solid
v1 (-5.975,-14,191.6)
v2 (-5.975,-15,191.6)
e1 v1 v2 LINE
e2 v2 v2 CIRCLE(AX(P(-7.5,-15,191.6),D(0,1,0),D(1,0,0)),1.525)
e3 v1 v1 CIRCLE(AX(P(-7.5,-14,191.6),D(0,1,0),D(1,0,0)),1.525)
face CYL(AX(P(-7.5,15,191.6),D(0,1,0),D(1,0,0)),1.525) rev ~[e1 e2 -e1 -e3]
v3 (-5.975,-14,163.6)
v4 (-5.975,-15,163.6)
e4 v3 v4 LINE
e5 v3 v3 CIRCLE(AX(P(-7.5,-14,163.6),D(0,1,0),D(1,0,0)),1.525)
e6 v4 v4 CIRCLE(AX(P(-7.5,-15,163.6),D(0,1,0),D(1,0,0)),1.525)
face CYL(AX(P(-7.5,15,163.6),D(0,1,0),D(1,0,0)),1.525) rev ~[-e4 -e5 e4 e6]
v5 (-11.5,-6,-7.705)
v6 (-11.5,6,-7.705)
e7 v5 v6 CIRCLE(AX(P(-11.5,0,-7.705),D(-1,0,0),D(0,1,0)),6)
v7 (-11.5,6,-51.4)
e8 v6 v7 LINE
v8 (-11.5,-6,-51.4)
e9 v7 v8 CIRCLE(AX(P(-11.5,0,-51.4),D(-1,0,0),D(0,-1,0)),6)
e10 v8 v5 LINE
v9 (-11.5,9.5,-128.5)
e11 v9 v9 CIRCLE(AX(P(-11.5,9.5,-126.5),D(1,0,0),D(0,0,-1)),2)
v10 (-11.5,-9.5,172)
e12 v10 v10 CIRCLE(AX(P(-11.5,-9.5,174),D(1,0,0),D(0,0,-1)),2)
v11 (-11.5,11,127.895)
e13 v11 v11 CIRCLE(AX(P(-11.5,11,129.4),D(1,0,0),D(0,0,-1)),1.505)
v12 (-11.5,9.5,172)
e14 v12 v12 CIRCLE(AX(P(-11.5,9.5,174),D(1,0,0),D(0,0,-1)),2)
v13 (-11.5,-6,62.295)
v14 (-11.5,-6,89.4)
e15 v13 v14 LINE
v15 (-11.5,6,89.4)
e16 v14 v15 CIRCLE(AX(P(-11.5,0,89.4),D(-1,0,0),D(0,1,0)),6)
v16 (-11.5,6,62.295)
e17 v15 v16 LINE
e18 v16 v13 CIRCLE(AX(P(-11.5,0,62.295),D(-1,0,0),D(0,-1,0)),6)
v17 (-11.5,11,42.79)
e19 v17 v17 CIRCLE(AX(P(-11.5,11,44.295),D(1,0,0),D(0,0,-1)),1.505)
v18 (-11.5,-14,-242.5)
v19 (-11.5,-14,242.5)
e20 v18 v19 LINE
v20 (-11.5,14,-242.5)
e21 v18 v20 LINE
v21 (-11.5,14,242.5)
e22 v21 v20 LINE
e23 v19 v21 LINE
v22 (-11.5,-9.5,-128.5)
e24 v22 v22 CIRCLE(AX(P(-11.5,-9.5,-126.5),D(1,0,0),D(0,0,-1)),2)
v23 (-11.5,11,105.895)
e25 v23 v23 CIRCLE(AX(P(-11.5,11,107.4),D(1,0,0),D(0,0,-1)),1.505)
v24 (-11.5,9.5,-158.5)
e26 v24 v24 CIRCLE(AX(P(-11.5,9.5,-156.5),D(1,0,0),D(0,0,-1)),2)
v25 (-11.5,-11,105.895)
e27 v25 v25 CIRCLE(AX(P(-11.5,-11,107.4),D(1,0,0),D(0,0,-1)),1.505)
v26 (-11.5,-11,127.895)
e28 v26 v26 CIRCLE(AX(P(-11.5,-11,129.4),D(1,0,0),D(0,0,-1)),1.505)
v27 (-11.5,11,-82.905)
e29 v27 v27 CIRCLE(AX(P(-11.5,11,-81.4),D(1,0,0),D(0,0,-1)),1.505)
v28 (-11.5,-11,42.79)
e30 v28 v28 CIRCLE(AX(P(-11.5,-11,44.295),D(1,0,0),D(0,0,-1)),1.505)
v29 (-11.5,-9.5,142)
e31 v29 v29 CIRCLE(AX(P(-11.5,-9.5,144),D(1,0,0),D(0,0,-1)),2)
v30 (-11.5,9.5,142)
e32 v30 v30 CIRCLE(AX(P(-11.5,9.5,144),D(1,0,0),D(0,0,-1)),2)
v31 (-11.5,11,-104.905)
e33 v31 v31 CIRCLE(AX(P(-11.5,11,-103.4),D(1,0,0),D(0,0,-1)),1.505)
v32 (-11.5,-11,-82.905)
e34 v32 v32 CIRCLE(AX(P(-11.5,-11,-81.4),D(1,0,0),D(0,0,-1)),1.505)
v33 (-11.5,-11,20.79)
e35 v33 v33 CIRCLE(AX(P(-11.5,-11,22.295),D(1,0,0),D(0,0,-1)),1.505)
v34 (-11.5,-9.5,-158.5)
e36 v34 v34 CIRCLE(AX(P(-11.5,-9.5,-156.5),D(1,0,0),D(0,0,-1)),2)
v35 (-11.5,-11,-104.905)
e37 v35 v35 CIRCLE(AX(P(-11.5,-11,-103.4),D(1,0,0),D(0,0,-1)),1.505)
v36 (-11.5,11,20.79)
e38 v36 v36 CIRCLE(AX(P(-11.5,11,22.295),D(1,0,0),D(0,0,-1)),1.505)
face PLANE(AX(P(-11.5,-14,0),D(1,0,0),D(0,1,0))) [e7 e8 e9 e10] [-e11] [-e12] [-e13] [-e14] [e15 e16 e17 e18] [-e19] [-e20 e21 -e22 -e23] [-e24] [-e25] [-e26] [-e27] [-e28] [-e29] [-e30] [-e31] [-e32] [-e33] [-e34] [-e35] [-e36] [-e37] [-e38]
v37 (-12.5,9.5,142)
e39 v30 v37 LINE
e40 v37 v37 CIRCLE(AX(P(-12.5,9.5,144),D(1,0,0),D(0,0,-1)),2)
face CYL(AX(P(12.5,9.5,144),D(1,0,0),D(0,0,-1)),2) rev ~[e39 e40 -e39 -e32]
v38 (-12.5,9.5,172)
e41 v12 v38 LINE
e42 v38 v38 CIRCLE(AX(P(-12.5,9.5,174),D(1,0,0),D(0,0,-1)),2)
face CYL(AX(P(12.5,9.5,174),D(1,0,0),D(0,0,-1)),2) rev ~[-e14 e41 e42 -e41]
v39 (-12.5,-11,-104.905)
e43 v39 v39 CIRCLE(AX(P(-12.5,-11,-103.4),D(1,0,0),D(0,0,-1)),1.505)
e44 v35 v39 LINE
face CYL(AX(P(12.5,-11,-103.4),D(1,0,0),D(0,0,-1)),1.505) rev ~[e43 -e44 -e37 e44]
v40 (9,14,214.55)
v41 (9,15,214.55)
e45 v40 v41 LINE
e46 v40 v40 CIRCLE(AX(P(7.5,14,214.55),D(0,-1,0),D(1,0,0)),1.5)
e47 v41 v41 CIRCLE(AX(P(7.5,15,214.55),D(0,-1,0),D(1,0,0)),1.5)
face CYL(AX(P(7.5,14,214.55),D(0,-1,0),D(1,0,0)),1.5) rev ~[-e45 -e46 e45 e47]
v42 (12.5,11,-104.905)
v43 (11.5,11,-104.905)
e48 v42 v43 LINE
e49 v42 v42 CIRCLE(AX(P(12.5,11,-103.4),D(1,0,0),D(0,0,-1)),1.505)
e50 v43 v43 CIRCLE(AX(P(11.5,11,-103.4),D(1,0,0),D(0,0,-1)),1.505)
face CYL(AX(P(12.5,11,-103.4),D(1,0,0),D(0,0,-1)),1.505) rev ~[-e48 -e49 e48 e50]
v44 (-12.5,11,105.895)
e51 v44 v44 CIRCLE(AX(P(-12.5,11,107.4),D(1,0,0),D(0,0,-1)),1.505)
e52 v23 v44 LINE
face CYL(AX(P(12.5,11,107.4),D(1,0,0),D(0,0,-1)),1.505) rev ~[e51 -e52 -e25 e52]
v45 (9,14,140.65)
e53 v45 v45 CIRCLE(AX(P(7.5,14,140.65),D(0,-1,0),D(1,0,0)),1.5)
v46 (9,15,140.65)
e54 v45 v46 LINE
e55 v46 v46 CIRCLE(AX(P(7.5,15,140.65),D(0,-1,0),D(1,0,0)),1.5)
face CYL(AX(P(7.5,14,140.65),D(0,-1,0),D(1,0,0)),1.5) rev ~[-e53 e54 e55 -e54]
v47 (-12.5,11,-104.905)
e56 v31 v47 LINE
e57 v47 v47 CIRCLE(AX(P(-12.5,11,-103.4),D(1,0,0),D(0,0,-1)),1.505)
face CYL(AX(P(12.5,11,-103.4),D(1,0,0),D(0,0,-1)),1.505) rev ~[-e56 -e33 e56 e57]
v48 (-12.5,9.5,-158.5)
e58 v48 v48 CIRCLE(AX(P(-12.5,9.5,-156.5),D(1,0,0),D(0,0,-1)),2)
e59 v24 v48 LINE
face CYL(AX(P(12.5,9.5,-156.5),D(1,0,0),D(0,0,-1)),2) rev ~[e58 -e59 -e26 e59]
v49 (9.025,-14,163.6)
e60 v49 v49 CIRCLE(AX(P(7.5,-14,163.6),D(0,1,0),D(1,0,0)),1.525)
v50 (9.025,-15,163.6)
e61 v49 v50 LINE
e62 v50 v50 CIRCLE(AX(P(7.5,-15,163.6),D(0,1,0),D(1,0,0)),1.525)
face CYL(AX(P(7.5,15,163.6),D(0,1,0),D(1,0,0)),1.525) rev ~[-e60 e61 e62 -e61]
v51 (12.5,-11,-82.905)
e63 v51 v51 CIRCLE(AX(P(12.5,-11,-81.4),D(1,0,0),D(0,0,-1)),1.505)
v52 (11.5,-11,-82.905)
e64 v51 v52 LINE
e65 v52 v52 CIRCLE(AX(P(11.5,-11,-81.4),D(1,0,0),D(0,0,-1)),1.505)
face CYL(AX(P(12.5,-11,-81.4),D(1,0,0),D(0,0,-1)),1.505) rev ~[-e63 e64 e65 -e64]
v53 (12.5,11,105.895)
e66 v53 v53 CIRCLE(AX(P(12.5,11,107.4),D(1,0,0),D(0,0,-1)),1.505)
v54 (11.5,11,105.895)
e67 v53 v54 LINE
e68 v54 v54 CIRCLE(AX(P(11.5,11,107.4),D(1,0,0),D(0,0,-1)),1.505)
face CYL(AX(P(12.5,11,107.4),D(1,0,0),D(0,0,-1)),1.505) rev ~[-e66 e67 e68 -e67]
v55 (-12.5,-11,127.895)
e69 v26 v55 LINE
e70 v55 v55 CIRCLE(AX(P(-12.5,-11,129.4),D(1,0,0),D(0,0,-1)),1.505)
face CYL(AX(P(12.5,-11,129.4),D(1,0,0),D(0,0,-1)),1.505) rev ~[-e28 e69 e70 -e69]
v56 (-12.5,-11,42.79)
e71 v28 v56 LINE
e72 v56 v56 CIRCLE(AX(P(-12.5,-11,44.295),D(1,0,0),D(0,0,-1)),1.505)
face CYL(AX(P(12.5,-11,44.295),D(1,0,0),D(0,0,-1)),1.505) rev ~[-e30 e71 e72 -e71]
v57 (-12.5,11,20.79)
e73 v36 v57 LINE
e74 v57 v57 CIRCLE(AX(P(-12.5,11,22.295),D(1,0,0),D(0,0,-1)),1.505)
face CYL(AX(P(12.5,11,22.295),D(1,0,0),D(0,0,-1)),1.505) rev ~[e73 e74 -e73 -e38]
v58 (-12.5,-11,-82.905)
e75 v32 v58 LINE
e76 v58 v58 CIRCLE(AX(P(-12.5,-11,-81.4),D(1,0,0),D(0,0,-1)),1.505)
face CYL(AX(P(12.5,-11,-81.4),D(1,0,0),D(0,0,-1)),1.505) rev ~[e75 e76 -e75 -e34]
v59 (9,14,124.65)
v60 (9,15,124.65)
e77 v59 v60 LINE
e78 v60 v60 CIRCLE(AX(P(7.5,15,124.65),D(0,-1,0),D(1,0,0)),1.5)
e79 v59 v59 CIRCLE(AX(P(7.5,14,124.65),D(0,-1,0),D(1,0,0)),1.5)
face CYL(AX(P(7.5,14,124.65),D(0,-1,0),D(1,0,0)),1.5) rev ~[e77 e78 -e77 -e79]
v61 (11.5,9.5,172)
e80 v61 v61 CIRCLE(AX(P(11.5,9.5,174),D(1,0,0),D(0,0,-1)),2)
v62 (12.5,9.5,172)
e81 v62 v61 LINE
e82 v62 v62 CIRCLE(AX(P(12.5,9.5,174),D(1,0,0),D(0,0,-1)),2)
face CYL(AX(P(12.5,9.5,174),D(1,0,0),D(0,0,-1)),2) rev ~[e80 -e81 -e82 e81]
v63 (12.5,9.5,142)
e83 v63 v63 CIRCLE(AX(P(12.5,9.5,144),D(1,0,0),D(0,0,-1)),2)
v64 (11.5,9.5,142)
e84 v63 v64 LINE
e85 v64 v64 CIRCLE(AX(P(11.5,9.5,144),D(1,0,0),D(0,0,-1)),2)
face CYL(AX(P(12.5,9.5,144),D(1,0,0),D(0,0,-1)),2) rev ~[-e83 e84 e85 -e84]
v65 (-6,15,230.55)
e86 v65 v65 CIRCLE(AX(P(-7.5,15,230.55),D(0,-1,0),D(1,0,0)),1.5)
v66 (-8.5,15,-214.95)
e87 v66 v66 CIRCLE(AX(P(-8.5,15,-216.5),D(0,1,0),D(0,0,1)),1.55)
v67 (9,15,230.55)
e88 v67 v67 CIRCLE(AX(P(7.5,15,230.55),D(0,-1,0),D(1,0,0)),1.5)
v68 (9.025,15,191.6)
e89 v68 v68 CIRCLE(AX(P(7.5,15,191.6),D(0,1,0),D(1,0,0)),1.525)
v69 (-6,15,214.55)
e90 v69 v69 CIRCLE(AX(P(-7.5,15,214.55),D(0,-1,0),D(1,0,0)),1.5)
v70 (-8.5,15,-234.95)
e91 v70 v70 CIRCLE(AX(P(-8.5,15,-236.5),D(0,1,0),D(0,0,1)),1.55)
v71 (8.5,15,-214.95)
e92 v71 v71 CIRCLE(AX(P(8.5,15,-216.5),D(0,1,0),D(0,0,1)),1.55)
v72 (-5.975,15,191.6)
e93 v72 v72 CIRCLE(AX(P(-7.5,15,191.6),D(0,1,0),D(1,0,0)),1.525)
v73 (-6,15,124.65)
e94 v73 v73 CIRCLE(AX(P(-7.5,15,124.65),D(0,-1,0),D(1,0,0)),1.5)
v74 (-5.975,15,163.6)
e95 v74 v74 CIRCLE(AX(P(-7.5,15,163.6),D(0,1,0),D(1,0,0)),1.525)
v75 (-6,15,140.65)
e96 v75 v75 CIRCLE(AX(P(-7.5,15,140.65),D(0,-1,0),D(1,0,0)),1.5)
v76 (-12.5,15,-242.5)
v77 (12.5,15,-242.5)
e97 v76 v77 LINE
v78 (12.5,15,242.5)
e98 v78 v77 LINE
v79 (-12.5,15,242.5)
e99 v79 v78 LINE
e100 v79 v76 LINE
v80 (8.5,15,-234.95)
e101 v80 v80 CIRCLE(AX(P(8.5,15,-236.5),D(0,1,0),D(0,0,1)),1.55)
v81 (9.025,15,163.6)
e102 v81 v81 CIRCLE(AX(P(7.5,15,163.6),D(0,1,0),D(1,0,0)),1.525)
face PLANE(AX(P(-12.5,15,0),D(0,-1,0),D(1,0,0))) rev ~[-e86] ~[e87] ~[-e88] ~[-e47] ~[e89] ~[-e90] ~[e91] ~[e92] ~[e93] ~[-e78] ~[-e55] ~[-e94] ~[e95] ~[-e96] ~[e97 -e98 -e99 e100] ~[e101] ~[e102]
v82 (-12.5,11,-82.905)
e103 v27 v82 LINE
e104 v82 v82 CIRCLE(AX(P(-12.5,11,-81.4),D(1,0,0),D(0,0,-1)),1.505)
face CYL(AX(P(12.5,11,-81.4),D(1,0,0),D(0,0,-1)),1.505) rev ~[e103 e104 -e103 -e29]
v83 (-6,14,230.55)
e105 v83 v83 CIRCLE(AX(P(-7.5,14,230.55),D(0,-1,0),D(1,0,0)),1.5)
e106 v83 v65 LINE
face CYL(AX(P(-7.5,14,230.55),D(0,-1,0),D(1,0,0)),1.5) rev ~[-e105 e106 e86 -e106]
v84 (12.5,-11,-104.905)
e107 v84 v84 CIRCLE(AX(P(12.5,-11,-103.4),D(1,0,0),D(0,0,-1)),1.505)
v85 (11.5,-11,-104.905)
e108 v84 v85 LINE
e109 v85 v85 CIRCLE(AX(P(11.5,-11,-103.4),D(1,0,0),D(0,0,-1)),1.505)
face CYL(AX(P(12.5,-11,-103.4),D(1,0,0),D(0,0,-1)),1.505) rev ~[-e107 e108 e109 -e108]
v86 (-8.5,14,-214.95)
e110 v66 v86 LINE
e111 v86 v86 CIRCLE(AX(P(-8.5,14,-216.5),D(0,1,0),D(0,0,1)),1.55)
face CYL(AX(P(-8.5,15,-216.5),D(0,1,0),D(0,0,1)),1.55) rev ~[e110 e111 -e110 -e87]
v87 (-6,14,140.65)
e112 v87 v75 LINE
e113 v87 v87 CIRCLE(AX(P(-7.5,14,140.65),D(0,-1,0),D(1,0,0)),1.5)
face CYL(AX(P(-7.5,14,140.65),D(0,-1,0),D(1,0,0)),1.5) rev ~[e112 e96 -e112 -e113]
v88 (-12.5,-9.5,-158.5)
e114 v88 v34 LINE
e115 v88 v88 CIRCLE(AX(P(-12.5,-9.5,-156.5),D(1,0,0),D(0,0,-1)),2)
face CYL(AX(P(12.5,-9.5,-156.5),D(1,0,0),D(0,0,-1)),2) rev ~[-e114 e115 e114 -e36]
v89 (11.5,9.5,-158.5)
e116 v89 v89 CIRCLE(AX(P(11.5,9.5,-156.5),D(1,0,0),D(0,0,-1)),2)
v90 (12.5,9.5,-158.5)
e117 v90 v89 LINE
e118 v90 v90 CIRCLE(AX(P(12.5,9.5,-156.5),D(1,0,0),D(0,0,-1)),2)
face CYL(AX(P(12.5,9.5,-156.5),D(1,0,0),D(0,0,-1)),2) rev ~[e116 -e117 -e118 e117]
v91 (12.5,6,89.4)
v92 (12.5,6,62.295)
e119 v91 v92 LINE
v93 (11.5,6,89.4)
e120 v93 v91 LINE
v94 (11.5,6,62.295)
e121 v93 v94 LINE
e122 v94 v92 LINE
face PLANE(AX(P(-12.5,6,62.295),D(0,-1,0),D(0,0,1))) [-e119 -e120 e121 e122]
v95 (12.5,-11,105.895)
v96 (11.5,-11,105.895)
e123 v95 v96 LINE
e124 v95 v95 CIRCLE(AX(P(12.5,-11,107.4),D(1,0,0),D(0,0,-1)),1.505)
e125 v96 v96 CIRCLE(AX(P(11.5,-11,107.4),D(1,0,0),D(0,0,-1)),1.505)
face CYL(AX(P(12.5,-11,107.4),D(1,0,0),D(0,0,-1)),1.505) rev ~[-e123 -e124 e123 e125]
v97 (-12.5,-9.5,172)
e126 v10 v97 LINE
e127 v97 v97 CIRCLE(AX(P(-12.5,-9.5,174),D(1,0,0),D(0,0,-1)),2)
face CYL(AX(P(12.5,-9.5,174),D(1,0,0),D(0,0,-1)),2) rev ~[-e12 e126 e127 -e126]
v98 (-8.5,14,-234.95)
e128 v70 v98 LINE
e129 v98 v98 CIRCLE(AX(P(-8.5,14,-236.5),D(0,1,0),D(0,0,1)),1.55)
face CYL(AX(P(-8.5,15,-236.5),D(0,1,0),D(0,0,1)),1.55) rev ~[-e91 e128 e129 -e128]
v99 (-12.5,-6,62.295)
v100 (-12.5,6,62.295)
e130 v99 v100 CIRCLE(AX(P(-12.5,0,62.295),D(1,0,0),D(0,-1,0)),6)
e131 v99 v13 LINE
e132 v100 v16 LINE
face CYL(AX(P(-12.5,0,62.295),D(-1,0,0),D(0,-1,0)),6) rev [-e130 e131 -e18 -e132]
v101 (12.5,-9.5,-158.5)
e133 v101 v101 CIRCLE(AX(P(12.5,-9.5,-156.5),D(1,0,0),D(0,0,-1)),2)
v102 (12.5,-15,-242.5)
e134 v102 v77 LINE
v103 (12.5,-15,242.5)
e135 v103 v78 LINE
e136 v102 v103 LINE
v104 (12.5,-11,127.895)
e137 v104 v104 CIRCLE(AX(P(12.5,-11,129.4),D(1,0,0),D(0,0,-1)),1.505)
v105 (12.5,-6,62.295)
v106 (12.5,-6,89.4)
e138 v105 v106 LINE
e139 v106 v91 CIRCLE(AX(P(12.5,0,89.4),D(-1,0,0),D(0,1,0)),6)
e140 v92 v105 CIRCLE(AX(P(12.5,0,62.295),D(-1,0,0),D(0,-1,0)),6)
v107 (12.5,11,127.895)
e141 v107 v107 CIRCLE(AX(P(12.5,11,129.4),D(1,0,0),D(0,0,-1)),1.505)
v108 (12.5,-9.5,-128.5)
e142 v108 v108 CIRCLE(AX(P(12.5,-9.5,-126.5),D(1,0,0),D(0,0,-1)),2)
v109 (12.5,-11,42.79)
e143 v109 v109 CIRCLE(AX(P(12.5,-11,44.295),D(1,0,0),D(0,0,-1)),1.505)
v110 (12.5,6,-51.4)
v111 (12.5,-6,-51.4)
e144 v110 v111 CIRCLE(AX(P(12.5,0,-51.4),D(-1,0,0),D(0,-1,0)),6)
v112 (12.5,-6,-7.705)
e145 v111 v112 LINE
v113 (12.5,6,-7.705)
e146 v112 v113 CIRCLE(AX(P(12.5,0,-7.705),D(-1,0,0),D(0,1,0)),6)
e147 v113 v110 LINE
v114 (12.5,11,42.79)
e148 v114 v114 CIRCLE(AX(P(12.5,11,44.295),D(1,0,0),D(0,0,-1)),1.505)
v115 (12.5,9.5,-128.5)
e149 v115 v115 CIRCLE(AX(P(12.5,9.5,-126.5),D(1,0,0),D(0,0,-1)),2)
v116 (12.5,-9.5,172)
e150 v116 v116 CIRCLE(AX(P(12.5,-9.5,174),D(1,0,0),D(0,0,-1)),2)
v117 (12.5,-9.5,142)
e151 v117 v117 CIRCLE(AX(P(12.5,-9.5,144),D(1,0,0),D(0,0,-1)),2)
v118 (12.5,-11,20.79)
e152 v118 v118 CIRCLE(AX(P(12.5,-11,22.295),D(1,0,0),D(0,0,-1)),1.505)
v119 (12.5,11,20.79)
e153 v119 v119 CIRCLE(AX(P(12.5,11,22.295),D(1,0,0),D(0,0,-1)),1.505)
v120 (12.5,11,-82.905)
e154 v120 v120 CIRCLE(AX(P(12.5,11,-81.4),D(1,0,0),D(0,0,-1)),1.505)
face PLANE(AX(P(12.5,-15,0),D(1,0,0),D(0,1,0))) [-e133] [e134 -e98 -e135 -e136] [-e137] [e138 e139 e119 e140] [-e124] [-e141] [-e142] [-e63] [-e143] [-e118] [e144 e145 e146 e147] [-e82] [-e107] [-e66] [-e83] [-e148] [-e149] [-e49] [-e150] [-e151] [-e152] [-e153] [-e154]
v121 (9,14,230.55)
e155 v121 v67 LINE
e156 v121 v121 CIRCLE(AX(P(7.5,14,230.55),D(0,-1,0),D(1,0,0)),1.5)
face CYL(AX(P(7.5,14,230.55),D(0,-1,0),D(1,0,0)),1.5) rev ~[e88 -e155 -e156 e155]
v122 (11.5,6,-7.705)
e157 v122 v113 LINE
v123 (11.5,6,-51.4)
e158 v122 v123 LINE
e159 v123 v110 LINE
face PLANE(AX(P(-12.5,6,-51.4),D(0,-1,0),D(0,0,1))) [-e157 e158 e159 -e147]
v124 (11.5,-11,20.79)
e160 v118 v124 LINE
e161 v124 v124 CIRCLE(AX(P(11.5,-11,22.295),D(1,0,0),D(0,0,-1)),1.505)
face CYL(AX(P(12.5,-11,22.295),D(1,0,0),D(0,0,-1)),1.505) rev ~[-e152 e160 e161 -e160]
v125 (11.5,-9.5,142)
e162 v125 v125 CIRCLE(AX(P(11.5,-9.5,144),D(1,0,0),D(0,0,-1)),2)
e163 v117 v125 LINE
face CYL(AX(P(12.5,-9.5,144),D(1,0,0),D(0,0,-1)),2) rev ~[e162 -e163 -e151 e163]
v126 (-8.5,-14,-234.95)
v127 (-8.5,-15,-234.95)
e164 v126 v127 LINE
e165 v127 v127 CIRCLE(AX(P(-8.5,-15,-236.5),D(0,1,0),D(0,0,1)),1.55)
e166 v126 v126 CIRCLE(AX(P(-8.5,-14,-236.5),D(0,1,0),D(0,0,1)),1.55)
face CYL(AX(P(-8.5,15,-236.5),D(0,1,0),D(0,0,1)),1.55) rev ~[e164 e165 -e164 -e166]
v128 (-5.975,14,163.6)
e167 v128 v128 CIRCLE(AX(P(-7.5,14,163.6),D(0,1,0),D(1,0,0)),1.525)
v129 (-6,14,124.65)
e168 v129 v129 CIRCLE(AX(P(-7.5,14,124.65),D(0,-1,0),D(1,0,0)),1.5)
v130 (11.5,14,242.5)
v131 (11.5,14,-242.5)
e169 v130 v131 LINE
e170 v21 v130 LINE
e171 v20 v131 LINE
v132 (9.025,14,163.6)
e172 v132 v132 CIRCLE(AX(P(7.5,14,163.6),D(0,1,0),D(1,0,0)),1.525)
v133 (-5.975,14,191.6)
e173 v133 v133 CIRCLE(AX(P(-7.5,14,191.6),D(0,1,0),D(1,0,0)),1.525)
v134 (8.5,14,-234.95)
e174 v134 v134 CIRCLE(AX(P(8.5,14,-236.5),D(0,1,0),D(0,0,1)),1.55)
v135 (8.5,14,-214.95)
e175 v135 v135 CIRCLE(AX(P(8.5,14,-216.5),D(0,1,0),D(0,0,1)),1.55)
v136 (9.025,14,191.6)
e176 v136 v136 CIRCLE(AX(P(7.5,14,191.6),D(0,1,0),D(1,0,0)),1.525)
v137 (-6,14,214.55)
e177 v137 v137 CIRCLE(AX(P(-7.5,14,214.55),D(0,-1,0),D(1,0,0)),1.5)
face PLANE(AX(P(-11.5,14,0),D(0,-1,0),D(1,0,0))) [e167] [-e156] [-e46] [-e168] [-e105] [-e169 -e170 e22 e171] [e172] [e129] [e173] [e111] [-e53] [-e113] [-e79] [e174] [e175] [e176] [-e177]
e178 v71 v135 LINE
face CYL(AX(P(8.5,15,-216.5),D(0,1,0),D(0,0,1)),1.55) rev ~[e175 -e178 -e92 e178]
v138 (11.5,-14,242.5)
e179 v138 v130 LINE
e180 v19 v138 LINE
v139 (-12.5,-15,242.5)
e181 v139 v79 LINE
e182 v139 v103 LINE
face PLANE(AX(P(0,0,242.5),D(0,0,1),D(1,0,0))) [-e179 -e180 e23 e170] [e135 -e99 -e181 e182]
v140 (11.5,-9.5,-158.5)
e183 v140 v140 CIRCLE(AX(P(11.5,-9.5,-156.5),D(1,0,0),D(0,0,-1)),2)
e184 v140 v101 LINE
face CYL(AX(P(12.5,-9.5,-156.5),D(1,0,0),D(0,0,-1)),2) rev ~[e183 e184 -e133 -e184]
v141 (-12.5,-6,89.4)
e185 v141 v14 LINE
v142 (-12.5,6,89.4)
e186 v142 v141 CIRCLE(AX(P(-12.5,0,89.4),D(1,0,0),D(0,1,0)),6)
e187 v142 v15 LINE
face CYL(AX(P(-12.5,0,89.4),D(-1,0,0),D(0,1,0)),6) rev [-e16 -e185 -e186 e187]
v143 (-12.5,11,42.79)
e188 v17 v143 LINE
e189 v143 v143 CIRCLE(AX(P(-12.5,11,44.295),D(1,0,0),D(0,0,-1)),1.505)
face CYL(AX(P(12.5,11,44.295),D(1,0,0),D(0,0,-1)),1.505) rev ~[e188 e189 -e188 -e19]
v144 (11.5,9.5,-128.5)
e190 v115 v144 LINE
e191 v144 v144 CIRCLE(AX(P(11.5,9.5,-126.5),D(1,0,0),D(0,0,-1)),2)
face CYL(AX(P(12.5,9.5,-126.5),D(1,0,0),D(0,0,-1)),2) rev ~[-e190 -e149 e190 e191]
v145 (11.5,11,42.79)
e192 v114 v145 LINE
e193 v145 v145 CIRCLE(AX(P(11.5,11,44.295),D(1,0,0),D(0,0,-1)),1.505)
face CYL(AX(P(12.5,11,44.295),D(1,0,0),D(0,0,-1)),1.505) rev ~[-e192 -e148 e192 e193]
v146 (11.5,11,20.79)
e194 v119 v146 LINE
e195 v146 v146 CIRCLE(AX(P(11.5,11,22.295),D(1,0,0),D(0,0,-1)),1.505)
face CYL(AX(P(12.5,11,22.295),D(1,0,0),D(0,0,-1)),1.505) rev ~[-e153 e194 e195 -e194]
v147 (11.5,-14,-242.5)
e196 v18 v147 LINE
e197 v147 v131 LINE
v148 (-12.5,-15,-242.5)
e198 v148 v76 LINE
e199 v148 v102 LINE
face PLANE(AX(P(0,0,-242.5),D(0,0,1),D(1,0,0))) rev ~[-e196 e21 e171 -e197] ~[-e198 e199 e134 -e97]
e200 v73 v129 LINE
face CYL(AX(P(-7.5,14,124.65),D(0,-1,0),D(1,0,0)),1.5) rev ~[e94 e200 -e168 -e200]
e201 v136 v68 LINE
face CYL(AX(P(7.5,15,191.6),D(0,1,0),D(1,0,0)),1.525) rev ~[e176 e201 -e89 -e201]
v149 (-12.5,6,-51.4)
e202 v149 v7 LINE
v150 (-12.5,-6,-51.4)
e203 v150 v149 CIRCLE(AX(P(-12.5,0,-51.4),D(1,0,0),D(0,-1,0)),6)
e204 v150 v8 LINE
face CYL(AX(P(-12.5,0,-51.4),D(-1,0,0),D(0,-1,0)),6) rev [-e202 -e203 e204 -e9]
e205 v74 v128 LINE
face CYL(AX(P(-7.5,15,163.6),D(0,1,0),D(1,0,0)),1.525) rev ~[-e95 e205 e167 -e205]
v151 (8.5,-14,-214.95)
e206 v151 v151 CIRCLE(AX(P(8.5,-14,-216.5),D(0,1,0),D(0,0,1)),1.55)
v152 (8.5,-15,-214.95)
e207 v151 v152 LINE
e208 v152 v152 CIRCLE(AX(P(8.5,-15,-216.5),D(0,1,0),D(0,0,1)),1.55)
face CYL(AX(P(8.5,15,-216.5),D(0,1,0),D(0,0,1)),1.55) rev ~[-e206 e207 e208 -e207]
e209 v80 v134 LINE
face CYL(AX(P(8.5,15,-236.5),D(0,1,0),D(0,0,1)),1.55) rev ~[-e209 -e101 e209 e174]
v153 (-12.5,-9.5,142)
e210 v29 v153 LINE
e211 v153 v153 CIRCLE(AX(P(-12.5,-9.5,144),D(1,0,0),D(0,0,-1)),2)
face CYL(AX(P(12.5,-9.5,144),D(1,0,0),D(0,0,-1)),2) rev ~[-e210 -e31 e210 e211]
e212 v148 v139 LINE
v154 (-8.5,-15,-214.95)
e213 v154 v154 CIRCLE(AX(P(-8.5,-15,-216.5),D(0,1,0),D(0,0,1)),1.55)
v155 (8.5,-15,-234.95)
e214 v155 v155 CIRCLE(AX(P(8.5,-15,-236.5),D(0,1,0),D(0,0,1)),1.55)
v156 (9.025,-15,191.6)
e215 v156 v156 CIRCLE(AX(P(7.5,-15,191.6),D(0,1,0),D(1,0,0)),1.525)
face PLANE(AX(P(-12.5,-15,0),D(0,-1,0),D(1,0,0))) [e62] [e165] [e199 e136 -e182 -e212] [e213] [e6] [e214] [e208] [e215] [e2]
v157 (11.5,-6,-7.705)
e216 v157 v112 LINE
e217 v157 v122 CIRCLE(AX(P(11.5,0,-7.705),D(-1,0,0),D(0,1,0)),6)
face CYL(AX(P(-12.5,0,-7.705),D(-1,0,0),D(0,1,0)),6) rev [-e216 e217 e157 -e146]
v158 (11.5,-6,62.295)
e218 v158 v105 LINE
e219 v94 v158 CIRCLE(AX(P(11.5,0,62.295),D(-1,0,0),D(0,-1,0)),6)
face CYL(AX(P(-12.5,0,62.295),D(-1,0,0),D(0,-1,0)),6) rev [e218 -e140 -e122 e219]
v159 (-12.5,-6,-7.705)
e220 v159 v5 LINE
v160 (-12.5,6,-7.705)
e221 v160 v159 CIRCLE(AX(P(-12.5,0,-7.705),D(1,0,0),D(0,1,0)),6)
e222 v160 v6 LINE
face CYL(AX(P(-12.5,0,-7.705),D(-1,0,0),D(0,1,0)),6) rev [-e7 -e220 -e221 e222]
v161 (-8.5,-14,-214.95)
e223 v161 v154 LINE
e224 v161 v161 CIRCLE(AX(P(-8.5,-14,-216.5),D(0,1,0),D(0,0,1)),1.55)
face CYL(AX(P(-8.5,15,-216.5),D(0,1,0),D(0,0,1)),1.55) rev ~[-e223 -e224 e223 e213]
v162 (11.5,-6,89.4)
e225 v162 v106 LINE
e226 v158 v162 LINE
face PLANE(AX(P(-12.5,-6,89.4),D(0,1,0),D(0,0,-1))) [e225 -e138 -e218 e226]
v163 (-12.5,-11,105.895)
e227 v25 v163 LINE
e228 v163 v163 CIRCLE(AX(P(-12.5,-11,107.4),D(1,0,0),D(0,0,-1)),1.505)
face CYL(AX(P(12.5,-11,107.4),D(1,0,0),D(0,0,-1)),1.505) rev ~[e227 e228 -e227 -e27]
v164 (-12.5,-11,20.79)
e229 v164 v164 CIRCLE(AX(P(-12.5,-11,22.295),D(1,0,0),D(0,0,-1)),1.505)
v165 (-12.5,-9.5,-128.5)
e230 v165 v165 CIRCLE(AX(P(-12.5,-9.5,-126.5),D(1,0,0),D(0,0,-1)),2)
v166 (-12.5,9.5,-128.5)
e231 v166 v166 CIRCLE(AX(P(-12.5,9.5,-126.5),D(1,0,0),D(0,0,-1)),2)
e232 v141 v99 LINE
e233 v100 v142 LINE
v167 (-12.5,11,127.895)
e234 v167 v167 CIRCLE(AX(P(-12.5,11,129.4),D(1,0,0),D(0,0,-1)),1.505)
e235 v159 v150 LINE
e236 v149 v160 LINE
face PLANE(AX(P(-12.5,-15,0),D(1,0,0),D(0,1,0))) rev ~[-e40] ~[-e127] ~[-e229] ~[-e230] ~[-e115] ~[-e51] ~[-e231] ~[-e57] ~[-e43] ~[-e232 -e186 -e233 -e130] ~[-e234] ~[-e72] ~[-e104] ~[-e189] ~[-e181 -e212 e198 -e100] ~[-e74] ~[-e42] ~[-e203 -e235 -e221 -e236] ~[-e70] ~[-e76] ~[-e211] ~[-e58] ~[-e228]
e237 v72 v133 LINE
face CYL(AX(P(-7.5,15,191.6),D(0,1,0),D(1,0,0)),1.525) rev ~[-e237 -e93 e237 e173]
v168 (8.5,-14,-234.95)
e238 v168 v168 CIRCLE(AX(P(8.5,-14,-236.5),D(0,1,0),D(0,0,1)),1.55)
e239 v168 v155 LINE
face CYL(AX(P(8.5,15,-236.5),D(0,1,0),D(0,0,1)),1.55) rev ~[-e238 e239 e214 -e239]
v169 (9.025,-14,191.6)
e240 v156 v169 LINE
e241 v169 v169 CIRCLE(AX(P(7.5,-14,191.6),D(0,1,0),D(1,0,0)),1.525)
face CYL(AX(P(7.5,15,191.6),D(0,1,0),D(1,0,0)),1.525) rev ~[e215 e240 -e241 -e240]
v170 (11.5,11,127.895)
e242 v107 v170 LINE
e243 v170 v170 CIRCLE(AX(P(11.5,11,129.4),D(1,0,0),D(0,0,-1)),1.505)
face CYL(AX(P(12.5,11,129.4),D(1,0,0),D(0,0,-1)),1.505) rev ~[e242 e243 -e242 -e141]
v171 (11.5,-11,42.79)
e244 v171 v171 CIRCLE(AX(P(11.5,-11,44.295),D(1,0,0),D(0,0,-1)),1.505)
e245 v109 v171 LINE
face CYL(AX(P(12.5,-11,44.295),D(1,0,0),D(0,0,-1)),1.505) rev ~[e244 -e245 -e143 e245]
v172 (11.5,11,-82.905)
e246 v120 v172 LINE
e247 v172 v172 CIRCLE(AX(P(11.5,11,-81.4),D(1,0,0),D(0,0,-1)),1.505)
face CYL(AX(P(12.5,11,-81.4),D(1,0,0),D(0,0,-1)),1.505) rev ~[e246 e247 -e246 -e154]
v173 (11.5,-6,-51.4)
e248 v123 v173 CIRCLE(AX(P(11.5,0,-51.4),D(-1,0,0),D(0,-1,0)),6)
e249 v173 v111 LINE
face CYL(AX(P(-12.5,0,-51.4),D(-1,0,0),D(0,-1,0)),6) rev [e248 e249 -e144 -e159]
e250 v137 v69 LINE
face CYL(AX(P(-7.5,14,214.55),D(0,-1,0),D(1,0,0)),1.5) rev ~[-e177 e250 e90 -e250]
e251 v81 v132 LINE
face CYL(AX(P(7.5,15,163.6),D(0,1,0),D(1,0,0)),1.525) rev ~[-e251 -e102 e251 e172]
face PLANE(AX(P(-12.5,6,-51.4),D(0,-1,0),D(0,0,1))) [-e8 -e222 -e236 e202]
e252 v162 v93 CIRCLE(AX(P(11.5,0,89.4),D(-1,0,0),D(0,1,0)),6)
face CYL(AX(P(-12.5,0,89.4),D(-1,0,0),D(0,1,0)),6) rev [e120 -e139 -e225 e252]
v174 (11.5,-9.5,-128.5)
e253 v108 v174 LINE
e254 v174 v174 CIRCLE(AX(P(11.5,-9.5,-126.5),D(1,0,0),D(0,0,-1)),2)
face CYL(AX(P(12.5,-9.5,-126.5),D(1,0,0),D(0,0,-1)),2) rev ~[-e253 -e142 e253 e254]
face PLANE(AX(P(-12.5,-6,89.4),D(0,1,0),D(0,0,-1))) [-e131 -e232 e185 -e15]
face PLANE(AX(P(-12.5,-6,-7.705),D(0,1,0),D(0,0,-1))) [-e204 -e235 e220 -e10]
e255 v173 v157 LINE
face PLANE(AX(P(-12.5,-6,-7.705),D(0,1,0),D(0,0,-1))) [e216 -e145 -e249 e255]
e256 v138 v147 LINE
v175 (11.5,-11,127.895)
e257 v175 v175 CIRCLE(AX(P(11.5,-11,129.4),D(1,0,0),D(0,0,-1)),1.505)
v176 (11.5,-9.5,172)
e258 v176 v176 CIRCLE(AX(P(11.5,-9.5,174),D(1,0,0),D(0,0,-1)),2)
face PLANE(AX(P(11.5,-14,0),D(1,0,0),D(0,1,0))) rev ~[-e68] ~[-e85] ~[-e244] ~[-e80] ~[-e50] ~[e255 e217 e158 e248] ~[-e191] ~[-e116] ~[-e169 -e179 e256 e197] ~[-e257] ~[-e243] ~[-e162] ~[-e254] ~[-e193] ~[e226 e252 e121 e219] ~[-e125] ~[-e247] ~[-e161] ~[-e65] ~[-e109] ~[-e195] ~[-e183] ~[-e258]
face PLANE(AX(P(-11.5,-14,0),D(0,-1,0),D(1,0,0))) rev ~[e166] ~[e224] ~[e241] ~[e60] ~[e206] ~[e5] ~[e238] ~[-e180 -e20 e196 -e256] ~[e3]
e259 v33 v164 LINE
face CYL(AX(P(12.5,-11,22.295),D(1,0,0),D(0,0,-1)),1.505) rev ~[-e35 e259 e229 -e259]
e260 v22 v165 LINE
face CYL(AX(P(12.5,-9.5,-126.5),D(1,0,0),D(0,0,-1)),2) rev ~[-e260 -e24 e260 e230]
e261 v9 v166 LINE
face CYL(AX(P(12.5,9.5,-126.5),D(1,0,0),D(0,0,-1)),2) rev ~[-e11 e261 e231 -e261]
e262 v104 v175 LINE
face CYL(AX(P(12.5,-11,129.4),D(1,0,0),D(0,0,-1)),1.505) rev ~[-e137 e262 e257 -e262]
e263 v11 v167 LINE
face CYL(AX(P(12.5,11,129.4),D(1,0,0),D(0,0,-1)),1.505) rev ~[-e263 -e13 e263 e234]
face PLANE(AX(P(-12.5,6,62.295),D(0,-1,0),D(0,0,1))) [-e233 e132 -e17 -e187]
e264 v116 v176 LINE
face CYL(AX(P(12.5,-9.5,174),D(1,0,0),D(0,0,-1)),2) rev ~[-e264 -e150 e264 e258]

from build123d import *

# Parameters (mm, degrees)
SKETCH_1_W           = 25
SKETCH_1_H           = 30
SKETCH_1_W_2         = 23
SKETCH_1_H_2         = 28
EXTRUDE_1_DEPTH      = 242.5
SKETCH_4_R           = 1.5
CUT_EXTRUDE_3_DEPTH  = 5
SKETCH_5_R           = 1.525
CUT_EXTRUDE_4_DEPTH  = 80
SKETCH_8_R           = 1.55
CUT_EXTRUDE_5_DEPTH  = 59
SKETCH_9_R           = 1.505
CUT_EXTRUDE_6_DEPTH  = 51
CUT_EXTRUDE_7_DEPTH  = 146
SKETCH_11_R          = 2
CUT_EXTRUDE_8_DEPTH  = 39.5
CUT_EXTRUDE_11_REACH = 246.246
SKETCH_13_R          = 2


with BuildPart() as part:
    # 草图1 → 凸台-拉伸1 (new, symmetric)
    with BuildSketch(Plane.XY):
        Rectangle(SKETCH_1_W, SKETCH_1_H)
        Rectangle(SKETCH_1_W_2, SKETCH_1_H_2, mode=Mode.SUBTRACT)
    extrude(amount=EXTRUDE_1_DEPTH, both=True)

    # 草图4 → 切除-拉伸3 (cut, symmetric)
    with BuildSketch(Plane.XZ.offset(-14)):
        with Locations((7.5, 214.55)):
            Circle(SKETCH_4_R)
        with Locations((-7.5, 214.55)):
            Circle(SKETCH_4_R)
        with Locations((7.5, 230.55)):
            Circle(SKETCH_4_R)
        with Locations((-7.5, 230.55)):
            Circle(SKETCH_4_R)
        with Locations((7.5, 124.65)):
            Circle(SKETCH_4_R)
        with Locations((7.5, 140.65)):
            Circle(SKETCH_4_R)
        with Locations((-7.5, 140.65)):
            Circle(SKETCH_4_R)
        with Locations((-7.5, 124.65)):
            Circle(SKETCH_4_R)
    extrude(amount=CUT_EXTRUDE_3_DEPTH, both=True, mode=Mode.SUBTRACT)

    # 草图5 → 切除-拉伸4 (cut, symmetric)
    with BuildSketch(Plane(origin=(0, 15, 0), x_dir=(1, 0, 0), z_dir=(0, 1, 0))):
        with Locations((-7.5, -163.6)):
            Circle(SKETCH_5_R)
        with Locations((7.5, -163.6)):
            Circle(SKETCH_5_R)
        with Locations((-7.5, -191.6)):
            Circle(SKETCH_5_R)
        with Locations((7.5, -191.6)):
            Circle(SKETCH_5_R)
    extrude(amount=CUT_EXTRUDE_4_DEPTH, both=True, mode=Mode.SUBTRACT)

    # 草图8 → 切除-拉伸5 (cut)
    with BuildSketch(Plane(origin=(0, 15, 0), x_dir=(1, 0, 0), z_dir=(0, 1, 0))):
        with Locations(Location((8.5, 236.5, 0), (0, 0, 270))):
            Circle(SKETCH_8_R)
        with Locations(Location((-8.5, 236.5, 0), (0, 0, 270))):
            Circle(SKETCH_8_R)
        with Locations(Location((-8.5, 216.5, 0), (0, 0, 270))):
            Circle(SKETCH_8_R)
        with Locations(Location((8.5, 216.5, 0), (0, 0, 270))):
            Circle(SKETCH_8_R)
    extrude(amount=-CUT_EXTRUDE_5_DEPTH, mode=Mode.SUBTRACT)

    # 草图9 → 切除-拉伸6 (cut)
    with BuildSketch(Plane(origin=(12.5, 0, 0), x_dir=(0, 0, -1), z_dir=(1, 0, 0))):
        with Locations((103.4, -11)):
            Circle(SKETCH_9_R)
        with Locations((103.4, 11)):
            Circle(SKETCH_9_R)
        with Locations((81.4, 11)):
            Circle(SKETCH_9_R)
        with Locations((81.4, -11)):
            Circle(SKETCH_9_R)
        with Locations((-44.295, -11)):
            Circle(SKETCH_9_R)
        with Locations((-44.295, 11)):
            Circle(SKETCH_9_R)
        with Locations((-22.295, 11)):
            Circle(SKETCH_9_R)
        with Locations((-22.295, -11)):
            Circle(SKETCH_9_R)
        with Locations((-107.4, -11)):
            Circle(SKETCH_9_R)
        with Locations((-129.4, -11)):
            Circle(SKETCH_9_R)
        with Locations((-107.4, 11)):
            Circle(SKETCH_9_R)
        with Locations((-129.4, 11)):
            Circle(SKETCH_9_R)
    extrude(amount=-CUT_EXTRUDE_6_DEPTH, mode=Mode.SUBTRACT)

    # 草图10 → 切除-拉伸7 (cut)
    with BuildSketch(Plane.ZY.offset(12.5)):
        with BuildLine():
            Line((-51.4, 6), (-7.705, 6))
            ThreePointArc((-7.705, 6), (-1.705, 0), (-7.705, -6))
            Line((-7.705, -6), (-51.4, -6))
            ThreePointArc((-51.4, -6), (-57.4, 0), (-51.4, 6))
        make_face()
        with BuildLine():
            Line((62.295, 6), (89.4, 6))
            ThreePointArc((89.4, 6), (95.4, 0), (89.4, -6))
            Line((89.4, -6), (62.295, -6))
            ThreePointArc((62.295, -6), (56.295, 0), (62.295, 6))
        make_face()
    extrude(amount=-CUT_EXTRUDE_7_DEPTH, mode=Mode.SUBTRACT)

    # 草图11 → 切除-拉伸8 (cut, symmetric)
    with BuildSketch(Plane(origin=(12.5, 0, 0), x_dir=(0, 0, -1), z_dir=(1, 0, 0))):
        with Locations((156.5, 9.5)):
            Circle(SKETCH_11_R)
        with Locations((126.5, 9.5)):
            Circle(SKETCH_11_R)
        with Locations((126.5, -9.5)):
            Circle(SKETCH_11_R)
        with Locations((156.5, -9.5)):
            Circle(SKETCH_11_R)
    extrude(amount=CUT_EXTRUDE_8_DEPTH, both=True, mode=Mode.SUBTRACT)

    # 切除-拉伸11: up to this face of the body (flat: up to its plane)
    cut_extrude_11_end = Plane(part.part.faces().sort_by_distance((-12.5, 0, -0.673656222))[0])
    # 草图13 → 切除-拉伸11 (cut, up to the picked face)
    with BuildSketch(Plane(origin=(12.5, 0, 0), x_dir=(0, 0, -1), z_dir=(1, 0, 0)), mode=Mode.PRIVATE) as cut_extrude_11_sk1:
        with Locations((-144, -9.5)):
            Circle(SKETCH_13_R)
    cut_extrude_11_tool1 = split(extrude(cut_extrude_11_sk1.sketch, amount=-CUT_EXTRUDE_11_REACH, mode=Mode.PRIVATE), bisect_by=cut_extrude_11_end, keep=Keep.BOTH, mode=Mode.PRIVATE)
    # 草图13 → 切除-拉伸11 (cut, up to the picked face)
    with BuildSketch(Plane(origin=(12.5, 0, 0), x_dir=(0, 0, -1), z_dir=(1, 0, 0)), mode=Mode.PRIVATE) as cut_extrude_11_sk2:
        with Locations((-144, 9.5)):
            Circle(SKETCH_13_R)
    cut_extrude_11_tool2 = split(extrude(cut_extrude_11_sk2.sketch, amount=-CUT_EXTRUDE_11_REACH, mode=Mode.PRIVATE), bisect_by=cut_extrude_11_end, keep=Keep.BOTH, mode=Mode.PRIVATE)
    # 草图13 → 切除-拉伸11 (cut, up to the picked face)
    with BuildSketch(Plane(origin=(12.5, 0, 0), x_dir=(0, 0, -1), z_dir=(1, 0, 0)), mode=Mode.PRIVATE) as cut_extrude_11_sk3:
        with Locations((-174, -9.5)):
            Circle(SKETCH_13_R)
    cut_extrude_11_tool3 = split(extrude(cut_extrude_11_sk3.sketch, amount=-CUT_EXTRUDE_11_REACH, mode=Mode.PRIVATE), bisect_by=cut_extrude_11_end, keep=Keep.BOTH, mode=Mode.PRIVATE)
    # 草图13 → 切除-拉伸11 (cut, up to the picked face)
    with BuildSketch(Plane(origin=(12.5, 0, 0), x_dir=(0, 0, -1), z_dir=(1, 0, 0)), mode=Mode.PRIVATE) as cut_extrude_11_sk4:
        with Locations((-174, 9.5)):
            Circle(SKETCH_13_R)
    cut_extrude_11_tool4 = split(extrude(cut_extrude_11_sk4.sketch, amount=-CUT_EXTRUDE_11_REACH, mode=Mode.PRIVATE), bisect_by=cut_extrude_11_end, keep=Keep.BOTH, mode=Mode.PRIVATE)
    add(cut_extrude_11_tool1.solids().sort_by(Axis((12.5, -9.5, 144), (-1, 0, 0)))[0], mode=Mode.SUBTRACT)
    add(cut_extrude_11_tool2.solids().sort_by(Axis((12.5, 9.5, 144), (-1, 0, 0)))[0], mode=Mode.SUBTRACT)
    add(cut_extrude_11_tool3.solids().sort_by(Axis((12.5, -9.5, 174), (-1, 0, 0)))[0], mode=Mode.SUBTRACT)
    add(cut_extrude_11_tool4.solids().sort_by(Axis((12.5, 9.5, 174), (-1, 0, 0)))[0], mode=Mode.SUBTRACT)


solid = part.part
